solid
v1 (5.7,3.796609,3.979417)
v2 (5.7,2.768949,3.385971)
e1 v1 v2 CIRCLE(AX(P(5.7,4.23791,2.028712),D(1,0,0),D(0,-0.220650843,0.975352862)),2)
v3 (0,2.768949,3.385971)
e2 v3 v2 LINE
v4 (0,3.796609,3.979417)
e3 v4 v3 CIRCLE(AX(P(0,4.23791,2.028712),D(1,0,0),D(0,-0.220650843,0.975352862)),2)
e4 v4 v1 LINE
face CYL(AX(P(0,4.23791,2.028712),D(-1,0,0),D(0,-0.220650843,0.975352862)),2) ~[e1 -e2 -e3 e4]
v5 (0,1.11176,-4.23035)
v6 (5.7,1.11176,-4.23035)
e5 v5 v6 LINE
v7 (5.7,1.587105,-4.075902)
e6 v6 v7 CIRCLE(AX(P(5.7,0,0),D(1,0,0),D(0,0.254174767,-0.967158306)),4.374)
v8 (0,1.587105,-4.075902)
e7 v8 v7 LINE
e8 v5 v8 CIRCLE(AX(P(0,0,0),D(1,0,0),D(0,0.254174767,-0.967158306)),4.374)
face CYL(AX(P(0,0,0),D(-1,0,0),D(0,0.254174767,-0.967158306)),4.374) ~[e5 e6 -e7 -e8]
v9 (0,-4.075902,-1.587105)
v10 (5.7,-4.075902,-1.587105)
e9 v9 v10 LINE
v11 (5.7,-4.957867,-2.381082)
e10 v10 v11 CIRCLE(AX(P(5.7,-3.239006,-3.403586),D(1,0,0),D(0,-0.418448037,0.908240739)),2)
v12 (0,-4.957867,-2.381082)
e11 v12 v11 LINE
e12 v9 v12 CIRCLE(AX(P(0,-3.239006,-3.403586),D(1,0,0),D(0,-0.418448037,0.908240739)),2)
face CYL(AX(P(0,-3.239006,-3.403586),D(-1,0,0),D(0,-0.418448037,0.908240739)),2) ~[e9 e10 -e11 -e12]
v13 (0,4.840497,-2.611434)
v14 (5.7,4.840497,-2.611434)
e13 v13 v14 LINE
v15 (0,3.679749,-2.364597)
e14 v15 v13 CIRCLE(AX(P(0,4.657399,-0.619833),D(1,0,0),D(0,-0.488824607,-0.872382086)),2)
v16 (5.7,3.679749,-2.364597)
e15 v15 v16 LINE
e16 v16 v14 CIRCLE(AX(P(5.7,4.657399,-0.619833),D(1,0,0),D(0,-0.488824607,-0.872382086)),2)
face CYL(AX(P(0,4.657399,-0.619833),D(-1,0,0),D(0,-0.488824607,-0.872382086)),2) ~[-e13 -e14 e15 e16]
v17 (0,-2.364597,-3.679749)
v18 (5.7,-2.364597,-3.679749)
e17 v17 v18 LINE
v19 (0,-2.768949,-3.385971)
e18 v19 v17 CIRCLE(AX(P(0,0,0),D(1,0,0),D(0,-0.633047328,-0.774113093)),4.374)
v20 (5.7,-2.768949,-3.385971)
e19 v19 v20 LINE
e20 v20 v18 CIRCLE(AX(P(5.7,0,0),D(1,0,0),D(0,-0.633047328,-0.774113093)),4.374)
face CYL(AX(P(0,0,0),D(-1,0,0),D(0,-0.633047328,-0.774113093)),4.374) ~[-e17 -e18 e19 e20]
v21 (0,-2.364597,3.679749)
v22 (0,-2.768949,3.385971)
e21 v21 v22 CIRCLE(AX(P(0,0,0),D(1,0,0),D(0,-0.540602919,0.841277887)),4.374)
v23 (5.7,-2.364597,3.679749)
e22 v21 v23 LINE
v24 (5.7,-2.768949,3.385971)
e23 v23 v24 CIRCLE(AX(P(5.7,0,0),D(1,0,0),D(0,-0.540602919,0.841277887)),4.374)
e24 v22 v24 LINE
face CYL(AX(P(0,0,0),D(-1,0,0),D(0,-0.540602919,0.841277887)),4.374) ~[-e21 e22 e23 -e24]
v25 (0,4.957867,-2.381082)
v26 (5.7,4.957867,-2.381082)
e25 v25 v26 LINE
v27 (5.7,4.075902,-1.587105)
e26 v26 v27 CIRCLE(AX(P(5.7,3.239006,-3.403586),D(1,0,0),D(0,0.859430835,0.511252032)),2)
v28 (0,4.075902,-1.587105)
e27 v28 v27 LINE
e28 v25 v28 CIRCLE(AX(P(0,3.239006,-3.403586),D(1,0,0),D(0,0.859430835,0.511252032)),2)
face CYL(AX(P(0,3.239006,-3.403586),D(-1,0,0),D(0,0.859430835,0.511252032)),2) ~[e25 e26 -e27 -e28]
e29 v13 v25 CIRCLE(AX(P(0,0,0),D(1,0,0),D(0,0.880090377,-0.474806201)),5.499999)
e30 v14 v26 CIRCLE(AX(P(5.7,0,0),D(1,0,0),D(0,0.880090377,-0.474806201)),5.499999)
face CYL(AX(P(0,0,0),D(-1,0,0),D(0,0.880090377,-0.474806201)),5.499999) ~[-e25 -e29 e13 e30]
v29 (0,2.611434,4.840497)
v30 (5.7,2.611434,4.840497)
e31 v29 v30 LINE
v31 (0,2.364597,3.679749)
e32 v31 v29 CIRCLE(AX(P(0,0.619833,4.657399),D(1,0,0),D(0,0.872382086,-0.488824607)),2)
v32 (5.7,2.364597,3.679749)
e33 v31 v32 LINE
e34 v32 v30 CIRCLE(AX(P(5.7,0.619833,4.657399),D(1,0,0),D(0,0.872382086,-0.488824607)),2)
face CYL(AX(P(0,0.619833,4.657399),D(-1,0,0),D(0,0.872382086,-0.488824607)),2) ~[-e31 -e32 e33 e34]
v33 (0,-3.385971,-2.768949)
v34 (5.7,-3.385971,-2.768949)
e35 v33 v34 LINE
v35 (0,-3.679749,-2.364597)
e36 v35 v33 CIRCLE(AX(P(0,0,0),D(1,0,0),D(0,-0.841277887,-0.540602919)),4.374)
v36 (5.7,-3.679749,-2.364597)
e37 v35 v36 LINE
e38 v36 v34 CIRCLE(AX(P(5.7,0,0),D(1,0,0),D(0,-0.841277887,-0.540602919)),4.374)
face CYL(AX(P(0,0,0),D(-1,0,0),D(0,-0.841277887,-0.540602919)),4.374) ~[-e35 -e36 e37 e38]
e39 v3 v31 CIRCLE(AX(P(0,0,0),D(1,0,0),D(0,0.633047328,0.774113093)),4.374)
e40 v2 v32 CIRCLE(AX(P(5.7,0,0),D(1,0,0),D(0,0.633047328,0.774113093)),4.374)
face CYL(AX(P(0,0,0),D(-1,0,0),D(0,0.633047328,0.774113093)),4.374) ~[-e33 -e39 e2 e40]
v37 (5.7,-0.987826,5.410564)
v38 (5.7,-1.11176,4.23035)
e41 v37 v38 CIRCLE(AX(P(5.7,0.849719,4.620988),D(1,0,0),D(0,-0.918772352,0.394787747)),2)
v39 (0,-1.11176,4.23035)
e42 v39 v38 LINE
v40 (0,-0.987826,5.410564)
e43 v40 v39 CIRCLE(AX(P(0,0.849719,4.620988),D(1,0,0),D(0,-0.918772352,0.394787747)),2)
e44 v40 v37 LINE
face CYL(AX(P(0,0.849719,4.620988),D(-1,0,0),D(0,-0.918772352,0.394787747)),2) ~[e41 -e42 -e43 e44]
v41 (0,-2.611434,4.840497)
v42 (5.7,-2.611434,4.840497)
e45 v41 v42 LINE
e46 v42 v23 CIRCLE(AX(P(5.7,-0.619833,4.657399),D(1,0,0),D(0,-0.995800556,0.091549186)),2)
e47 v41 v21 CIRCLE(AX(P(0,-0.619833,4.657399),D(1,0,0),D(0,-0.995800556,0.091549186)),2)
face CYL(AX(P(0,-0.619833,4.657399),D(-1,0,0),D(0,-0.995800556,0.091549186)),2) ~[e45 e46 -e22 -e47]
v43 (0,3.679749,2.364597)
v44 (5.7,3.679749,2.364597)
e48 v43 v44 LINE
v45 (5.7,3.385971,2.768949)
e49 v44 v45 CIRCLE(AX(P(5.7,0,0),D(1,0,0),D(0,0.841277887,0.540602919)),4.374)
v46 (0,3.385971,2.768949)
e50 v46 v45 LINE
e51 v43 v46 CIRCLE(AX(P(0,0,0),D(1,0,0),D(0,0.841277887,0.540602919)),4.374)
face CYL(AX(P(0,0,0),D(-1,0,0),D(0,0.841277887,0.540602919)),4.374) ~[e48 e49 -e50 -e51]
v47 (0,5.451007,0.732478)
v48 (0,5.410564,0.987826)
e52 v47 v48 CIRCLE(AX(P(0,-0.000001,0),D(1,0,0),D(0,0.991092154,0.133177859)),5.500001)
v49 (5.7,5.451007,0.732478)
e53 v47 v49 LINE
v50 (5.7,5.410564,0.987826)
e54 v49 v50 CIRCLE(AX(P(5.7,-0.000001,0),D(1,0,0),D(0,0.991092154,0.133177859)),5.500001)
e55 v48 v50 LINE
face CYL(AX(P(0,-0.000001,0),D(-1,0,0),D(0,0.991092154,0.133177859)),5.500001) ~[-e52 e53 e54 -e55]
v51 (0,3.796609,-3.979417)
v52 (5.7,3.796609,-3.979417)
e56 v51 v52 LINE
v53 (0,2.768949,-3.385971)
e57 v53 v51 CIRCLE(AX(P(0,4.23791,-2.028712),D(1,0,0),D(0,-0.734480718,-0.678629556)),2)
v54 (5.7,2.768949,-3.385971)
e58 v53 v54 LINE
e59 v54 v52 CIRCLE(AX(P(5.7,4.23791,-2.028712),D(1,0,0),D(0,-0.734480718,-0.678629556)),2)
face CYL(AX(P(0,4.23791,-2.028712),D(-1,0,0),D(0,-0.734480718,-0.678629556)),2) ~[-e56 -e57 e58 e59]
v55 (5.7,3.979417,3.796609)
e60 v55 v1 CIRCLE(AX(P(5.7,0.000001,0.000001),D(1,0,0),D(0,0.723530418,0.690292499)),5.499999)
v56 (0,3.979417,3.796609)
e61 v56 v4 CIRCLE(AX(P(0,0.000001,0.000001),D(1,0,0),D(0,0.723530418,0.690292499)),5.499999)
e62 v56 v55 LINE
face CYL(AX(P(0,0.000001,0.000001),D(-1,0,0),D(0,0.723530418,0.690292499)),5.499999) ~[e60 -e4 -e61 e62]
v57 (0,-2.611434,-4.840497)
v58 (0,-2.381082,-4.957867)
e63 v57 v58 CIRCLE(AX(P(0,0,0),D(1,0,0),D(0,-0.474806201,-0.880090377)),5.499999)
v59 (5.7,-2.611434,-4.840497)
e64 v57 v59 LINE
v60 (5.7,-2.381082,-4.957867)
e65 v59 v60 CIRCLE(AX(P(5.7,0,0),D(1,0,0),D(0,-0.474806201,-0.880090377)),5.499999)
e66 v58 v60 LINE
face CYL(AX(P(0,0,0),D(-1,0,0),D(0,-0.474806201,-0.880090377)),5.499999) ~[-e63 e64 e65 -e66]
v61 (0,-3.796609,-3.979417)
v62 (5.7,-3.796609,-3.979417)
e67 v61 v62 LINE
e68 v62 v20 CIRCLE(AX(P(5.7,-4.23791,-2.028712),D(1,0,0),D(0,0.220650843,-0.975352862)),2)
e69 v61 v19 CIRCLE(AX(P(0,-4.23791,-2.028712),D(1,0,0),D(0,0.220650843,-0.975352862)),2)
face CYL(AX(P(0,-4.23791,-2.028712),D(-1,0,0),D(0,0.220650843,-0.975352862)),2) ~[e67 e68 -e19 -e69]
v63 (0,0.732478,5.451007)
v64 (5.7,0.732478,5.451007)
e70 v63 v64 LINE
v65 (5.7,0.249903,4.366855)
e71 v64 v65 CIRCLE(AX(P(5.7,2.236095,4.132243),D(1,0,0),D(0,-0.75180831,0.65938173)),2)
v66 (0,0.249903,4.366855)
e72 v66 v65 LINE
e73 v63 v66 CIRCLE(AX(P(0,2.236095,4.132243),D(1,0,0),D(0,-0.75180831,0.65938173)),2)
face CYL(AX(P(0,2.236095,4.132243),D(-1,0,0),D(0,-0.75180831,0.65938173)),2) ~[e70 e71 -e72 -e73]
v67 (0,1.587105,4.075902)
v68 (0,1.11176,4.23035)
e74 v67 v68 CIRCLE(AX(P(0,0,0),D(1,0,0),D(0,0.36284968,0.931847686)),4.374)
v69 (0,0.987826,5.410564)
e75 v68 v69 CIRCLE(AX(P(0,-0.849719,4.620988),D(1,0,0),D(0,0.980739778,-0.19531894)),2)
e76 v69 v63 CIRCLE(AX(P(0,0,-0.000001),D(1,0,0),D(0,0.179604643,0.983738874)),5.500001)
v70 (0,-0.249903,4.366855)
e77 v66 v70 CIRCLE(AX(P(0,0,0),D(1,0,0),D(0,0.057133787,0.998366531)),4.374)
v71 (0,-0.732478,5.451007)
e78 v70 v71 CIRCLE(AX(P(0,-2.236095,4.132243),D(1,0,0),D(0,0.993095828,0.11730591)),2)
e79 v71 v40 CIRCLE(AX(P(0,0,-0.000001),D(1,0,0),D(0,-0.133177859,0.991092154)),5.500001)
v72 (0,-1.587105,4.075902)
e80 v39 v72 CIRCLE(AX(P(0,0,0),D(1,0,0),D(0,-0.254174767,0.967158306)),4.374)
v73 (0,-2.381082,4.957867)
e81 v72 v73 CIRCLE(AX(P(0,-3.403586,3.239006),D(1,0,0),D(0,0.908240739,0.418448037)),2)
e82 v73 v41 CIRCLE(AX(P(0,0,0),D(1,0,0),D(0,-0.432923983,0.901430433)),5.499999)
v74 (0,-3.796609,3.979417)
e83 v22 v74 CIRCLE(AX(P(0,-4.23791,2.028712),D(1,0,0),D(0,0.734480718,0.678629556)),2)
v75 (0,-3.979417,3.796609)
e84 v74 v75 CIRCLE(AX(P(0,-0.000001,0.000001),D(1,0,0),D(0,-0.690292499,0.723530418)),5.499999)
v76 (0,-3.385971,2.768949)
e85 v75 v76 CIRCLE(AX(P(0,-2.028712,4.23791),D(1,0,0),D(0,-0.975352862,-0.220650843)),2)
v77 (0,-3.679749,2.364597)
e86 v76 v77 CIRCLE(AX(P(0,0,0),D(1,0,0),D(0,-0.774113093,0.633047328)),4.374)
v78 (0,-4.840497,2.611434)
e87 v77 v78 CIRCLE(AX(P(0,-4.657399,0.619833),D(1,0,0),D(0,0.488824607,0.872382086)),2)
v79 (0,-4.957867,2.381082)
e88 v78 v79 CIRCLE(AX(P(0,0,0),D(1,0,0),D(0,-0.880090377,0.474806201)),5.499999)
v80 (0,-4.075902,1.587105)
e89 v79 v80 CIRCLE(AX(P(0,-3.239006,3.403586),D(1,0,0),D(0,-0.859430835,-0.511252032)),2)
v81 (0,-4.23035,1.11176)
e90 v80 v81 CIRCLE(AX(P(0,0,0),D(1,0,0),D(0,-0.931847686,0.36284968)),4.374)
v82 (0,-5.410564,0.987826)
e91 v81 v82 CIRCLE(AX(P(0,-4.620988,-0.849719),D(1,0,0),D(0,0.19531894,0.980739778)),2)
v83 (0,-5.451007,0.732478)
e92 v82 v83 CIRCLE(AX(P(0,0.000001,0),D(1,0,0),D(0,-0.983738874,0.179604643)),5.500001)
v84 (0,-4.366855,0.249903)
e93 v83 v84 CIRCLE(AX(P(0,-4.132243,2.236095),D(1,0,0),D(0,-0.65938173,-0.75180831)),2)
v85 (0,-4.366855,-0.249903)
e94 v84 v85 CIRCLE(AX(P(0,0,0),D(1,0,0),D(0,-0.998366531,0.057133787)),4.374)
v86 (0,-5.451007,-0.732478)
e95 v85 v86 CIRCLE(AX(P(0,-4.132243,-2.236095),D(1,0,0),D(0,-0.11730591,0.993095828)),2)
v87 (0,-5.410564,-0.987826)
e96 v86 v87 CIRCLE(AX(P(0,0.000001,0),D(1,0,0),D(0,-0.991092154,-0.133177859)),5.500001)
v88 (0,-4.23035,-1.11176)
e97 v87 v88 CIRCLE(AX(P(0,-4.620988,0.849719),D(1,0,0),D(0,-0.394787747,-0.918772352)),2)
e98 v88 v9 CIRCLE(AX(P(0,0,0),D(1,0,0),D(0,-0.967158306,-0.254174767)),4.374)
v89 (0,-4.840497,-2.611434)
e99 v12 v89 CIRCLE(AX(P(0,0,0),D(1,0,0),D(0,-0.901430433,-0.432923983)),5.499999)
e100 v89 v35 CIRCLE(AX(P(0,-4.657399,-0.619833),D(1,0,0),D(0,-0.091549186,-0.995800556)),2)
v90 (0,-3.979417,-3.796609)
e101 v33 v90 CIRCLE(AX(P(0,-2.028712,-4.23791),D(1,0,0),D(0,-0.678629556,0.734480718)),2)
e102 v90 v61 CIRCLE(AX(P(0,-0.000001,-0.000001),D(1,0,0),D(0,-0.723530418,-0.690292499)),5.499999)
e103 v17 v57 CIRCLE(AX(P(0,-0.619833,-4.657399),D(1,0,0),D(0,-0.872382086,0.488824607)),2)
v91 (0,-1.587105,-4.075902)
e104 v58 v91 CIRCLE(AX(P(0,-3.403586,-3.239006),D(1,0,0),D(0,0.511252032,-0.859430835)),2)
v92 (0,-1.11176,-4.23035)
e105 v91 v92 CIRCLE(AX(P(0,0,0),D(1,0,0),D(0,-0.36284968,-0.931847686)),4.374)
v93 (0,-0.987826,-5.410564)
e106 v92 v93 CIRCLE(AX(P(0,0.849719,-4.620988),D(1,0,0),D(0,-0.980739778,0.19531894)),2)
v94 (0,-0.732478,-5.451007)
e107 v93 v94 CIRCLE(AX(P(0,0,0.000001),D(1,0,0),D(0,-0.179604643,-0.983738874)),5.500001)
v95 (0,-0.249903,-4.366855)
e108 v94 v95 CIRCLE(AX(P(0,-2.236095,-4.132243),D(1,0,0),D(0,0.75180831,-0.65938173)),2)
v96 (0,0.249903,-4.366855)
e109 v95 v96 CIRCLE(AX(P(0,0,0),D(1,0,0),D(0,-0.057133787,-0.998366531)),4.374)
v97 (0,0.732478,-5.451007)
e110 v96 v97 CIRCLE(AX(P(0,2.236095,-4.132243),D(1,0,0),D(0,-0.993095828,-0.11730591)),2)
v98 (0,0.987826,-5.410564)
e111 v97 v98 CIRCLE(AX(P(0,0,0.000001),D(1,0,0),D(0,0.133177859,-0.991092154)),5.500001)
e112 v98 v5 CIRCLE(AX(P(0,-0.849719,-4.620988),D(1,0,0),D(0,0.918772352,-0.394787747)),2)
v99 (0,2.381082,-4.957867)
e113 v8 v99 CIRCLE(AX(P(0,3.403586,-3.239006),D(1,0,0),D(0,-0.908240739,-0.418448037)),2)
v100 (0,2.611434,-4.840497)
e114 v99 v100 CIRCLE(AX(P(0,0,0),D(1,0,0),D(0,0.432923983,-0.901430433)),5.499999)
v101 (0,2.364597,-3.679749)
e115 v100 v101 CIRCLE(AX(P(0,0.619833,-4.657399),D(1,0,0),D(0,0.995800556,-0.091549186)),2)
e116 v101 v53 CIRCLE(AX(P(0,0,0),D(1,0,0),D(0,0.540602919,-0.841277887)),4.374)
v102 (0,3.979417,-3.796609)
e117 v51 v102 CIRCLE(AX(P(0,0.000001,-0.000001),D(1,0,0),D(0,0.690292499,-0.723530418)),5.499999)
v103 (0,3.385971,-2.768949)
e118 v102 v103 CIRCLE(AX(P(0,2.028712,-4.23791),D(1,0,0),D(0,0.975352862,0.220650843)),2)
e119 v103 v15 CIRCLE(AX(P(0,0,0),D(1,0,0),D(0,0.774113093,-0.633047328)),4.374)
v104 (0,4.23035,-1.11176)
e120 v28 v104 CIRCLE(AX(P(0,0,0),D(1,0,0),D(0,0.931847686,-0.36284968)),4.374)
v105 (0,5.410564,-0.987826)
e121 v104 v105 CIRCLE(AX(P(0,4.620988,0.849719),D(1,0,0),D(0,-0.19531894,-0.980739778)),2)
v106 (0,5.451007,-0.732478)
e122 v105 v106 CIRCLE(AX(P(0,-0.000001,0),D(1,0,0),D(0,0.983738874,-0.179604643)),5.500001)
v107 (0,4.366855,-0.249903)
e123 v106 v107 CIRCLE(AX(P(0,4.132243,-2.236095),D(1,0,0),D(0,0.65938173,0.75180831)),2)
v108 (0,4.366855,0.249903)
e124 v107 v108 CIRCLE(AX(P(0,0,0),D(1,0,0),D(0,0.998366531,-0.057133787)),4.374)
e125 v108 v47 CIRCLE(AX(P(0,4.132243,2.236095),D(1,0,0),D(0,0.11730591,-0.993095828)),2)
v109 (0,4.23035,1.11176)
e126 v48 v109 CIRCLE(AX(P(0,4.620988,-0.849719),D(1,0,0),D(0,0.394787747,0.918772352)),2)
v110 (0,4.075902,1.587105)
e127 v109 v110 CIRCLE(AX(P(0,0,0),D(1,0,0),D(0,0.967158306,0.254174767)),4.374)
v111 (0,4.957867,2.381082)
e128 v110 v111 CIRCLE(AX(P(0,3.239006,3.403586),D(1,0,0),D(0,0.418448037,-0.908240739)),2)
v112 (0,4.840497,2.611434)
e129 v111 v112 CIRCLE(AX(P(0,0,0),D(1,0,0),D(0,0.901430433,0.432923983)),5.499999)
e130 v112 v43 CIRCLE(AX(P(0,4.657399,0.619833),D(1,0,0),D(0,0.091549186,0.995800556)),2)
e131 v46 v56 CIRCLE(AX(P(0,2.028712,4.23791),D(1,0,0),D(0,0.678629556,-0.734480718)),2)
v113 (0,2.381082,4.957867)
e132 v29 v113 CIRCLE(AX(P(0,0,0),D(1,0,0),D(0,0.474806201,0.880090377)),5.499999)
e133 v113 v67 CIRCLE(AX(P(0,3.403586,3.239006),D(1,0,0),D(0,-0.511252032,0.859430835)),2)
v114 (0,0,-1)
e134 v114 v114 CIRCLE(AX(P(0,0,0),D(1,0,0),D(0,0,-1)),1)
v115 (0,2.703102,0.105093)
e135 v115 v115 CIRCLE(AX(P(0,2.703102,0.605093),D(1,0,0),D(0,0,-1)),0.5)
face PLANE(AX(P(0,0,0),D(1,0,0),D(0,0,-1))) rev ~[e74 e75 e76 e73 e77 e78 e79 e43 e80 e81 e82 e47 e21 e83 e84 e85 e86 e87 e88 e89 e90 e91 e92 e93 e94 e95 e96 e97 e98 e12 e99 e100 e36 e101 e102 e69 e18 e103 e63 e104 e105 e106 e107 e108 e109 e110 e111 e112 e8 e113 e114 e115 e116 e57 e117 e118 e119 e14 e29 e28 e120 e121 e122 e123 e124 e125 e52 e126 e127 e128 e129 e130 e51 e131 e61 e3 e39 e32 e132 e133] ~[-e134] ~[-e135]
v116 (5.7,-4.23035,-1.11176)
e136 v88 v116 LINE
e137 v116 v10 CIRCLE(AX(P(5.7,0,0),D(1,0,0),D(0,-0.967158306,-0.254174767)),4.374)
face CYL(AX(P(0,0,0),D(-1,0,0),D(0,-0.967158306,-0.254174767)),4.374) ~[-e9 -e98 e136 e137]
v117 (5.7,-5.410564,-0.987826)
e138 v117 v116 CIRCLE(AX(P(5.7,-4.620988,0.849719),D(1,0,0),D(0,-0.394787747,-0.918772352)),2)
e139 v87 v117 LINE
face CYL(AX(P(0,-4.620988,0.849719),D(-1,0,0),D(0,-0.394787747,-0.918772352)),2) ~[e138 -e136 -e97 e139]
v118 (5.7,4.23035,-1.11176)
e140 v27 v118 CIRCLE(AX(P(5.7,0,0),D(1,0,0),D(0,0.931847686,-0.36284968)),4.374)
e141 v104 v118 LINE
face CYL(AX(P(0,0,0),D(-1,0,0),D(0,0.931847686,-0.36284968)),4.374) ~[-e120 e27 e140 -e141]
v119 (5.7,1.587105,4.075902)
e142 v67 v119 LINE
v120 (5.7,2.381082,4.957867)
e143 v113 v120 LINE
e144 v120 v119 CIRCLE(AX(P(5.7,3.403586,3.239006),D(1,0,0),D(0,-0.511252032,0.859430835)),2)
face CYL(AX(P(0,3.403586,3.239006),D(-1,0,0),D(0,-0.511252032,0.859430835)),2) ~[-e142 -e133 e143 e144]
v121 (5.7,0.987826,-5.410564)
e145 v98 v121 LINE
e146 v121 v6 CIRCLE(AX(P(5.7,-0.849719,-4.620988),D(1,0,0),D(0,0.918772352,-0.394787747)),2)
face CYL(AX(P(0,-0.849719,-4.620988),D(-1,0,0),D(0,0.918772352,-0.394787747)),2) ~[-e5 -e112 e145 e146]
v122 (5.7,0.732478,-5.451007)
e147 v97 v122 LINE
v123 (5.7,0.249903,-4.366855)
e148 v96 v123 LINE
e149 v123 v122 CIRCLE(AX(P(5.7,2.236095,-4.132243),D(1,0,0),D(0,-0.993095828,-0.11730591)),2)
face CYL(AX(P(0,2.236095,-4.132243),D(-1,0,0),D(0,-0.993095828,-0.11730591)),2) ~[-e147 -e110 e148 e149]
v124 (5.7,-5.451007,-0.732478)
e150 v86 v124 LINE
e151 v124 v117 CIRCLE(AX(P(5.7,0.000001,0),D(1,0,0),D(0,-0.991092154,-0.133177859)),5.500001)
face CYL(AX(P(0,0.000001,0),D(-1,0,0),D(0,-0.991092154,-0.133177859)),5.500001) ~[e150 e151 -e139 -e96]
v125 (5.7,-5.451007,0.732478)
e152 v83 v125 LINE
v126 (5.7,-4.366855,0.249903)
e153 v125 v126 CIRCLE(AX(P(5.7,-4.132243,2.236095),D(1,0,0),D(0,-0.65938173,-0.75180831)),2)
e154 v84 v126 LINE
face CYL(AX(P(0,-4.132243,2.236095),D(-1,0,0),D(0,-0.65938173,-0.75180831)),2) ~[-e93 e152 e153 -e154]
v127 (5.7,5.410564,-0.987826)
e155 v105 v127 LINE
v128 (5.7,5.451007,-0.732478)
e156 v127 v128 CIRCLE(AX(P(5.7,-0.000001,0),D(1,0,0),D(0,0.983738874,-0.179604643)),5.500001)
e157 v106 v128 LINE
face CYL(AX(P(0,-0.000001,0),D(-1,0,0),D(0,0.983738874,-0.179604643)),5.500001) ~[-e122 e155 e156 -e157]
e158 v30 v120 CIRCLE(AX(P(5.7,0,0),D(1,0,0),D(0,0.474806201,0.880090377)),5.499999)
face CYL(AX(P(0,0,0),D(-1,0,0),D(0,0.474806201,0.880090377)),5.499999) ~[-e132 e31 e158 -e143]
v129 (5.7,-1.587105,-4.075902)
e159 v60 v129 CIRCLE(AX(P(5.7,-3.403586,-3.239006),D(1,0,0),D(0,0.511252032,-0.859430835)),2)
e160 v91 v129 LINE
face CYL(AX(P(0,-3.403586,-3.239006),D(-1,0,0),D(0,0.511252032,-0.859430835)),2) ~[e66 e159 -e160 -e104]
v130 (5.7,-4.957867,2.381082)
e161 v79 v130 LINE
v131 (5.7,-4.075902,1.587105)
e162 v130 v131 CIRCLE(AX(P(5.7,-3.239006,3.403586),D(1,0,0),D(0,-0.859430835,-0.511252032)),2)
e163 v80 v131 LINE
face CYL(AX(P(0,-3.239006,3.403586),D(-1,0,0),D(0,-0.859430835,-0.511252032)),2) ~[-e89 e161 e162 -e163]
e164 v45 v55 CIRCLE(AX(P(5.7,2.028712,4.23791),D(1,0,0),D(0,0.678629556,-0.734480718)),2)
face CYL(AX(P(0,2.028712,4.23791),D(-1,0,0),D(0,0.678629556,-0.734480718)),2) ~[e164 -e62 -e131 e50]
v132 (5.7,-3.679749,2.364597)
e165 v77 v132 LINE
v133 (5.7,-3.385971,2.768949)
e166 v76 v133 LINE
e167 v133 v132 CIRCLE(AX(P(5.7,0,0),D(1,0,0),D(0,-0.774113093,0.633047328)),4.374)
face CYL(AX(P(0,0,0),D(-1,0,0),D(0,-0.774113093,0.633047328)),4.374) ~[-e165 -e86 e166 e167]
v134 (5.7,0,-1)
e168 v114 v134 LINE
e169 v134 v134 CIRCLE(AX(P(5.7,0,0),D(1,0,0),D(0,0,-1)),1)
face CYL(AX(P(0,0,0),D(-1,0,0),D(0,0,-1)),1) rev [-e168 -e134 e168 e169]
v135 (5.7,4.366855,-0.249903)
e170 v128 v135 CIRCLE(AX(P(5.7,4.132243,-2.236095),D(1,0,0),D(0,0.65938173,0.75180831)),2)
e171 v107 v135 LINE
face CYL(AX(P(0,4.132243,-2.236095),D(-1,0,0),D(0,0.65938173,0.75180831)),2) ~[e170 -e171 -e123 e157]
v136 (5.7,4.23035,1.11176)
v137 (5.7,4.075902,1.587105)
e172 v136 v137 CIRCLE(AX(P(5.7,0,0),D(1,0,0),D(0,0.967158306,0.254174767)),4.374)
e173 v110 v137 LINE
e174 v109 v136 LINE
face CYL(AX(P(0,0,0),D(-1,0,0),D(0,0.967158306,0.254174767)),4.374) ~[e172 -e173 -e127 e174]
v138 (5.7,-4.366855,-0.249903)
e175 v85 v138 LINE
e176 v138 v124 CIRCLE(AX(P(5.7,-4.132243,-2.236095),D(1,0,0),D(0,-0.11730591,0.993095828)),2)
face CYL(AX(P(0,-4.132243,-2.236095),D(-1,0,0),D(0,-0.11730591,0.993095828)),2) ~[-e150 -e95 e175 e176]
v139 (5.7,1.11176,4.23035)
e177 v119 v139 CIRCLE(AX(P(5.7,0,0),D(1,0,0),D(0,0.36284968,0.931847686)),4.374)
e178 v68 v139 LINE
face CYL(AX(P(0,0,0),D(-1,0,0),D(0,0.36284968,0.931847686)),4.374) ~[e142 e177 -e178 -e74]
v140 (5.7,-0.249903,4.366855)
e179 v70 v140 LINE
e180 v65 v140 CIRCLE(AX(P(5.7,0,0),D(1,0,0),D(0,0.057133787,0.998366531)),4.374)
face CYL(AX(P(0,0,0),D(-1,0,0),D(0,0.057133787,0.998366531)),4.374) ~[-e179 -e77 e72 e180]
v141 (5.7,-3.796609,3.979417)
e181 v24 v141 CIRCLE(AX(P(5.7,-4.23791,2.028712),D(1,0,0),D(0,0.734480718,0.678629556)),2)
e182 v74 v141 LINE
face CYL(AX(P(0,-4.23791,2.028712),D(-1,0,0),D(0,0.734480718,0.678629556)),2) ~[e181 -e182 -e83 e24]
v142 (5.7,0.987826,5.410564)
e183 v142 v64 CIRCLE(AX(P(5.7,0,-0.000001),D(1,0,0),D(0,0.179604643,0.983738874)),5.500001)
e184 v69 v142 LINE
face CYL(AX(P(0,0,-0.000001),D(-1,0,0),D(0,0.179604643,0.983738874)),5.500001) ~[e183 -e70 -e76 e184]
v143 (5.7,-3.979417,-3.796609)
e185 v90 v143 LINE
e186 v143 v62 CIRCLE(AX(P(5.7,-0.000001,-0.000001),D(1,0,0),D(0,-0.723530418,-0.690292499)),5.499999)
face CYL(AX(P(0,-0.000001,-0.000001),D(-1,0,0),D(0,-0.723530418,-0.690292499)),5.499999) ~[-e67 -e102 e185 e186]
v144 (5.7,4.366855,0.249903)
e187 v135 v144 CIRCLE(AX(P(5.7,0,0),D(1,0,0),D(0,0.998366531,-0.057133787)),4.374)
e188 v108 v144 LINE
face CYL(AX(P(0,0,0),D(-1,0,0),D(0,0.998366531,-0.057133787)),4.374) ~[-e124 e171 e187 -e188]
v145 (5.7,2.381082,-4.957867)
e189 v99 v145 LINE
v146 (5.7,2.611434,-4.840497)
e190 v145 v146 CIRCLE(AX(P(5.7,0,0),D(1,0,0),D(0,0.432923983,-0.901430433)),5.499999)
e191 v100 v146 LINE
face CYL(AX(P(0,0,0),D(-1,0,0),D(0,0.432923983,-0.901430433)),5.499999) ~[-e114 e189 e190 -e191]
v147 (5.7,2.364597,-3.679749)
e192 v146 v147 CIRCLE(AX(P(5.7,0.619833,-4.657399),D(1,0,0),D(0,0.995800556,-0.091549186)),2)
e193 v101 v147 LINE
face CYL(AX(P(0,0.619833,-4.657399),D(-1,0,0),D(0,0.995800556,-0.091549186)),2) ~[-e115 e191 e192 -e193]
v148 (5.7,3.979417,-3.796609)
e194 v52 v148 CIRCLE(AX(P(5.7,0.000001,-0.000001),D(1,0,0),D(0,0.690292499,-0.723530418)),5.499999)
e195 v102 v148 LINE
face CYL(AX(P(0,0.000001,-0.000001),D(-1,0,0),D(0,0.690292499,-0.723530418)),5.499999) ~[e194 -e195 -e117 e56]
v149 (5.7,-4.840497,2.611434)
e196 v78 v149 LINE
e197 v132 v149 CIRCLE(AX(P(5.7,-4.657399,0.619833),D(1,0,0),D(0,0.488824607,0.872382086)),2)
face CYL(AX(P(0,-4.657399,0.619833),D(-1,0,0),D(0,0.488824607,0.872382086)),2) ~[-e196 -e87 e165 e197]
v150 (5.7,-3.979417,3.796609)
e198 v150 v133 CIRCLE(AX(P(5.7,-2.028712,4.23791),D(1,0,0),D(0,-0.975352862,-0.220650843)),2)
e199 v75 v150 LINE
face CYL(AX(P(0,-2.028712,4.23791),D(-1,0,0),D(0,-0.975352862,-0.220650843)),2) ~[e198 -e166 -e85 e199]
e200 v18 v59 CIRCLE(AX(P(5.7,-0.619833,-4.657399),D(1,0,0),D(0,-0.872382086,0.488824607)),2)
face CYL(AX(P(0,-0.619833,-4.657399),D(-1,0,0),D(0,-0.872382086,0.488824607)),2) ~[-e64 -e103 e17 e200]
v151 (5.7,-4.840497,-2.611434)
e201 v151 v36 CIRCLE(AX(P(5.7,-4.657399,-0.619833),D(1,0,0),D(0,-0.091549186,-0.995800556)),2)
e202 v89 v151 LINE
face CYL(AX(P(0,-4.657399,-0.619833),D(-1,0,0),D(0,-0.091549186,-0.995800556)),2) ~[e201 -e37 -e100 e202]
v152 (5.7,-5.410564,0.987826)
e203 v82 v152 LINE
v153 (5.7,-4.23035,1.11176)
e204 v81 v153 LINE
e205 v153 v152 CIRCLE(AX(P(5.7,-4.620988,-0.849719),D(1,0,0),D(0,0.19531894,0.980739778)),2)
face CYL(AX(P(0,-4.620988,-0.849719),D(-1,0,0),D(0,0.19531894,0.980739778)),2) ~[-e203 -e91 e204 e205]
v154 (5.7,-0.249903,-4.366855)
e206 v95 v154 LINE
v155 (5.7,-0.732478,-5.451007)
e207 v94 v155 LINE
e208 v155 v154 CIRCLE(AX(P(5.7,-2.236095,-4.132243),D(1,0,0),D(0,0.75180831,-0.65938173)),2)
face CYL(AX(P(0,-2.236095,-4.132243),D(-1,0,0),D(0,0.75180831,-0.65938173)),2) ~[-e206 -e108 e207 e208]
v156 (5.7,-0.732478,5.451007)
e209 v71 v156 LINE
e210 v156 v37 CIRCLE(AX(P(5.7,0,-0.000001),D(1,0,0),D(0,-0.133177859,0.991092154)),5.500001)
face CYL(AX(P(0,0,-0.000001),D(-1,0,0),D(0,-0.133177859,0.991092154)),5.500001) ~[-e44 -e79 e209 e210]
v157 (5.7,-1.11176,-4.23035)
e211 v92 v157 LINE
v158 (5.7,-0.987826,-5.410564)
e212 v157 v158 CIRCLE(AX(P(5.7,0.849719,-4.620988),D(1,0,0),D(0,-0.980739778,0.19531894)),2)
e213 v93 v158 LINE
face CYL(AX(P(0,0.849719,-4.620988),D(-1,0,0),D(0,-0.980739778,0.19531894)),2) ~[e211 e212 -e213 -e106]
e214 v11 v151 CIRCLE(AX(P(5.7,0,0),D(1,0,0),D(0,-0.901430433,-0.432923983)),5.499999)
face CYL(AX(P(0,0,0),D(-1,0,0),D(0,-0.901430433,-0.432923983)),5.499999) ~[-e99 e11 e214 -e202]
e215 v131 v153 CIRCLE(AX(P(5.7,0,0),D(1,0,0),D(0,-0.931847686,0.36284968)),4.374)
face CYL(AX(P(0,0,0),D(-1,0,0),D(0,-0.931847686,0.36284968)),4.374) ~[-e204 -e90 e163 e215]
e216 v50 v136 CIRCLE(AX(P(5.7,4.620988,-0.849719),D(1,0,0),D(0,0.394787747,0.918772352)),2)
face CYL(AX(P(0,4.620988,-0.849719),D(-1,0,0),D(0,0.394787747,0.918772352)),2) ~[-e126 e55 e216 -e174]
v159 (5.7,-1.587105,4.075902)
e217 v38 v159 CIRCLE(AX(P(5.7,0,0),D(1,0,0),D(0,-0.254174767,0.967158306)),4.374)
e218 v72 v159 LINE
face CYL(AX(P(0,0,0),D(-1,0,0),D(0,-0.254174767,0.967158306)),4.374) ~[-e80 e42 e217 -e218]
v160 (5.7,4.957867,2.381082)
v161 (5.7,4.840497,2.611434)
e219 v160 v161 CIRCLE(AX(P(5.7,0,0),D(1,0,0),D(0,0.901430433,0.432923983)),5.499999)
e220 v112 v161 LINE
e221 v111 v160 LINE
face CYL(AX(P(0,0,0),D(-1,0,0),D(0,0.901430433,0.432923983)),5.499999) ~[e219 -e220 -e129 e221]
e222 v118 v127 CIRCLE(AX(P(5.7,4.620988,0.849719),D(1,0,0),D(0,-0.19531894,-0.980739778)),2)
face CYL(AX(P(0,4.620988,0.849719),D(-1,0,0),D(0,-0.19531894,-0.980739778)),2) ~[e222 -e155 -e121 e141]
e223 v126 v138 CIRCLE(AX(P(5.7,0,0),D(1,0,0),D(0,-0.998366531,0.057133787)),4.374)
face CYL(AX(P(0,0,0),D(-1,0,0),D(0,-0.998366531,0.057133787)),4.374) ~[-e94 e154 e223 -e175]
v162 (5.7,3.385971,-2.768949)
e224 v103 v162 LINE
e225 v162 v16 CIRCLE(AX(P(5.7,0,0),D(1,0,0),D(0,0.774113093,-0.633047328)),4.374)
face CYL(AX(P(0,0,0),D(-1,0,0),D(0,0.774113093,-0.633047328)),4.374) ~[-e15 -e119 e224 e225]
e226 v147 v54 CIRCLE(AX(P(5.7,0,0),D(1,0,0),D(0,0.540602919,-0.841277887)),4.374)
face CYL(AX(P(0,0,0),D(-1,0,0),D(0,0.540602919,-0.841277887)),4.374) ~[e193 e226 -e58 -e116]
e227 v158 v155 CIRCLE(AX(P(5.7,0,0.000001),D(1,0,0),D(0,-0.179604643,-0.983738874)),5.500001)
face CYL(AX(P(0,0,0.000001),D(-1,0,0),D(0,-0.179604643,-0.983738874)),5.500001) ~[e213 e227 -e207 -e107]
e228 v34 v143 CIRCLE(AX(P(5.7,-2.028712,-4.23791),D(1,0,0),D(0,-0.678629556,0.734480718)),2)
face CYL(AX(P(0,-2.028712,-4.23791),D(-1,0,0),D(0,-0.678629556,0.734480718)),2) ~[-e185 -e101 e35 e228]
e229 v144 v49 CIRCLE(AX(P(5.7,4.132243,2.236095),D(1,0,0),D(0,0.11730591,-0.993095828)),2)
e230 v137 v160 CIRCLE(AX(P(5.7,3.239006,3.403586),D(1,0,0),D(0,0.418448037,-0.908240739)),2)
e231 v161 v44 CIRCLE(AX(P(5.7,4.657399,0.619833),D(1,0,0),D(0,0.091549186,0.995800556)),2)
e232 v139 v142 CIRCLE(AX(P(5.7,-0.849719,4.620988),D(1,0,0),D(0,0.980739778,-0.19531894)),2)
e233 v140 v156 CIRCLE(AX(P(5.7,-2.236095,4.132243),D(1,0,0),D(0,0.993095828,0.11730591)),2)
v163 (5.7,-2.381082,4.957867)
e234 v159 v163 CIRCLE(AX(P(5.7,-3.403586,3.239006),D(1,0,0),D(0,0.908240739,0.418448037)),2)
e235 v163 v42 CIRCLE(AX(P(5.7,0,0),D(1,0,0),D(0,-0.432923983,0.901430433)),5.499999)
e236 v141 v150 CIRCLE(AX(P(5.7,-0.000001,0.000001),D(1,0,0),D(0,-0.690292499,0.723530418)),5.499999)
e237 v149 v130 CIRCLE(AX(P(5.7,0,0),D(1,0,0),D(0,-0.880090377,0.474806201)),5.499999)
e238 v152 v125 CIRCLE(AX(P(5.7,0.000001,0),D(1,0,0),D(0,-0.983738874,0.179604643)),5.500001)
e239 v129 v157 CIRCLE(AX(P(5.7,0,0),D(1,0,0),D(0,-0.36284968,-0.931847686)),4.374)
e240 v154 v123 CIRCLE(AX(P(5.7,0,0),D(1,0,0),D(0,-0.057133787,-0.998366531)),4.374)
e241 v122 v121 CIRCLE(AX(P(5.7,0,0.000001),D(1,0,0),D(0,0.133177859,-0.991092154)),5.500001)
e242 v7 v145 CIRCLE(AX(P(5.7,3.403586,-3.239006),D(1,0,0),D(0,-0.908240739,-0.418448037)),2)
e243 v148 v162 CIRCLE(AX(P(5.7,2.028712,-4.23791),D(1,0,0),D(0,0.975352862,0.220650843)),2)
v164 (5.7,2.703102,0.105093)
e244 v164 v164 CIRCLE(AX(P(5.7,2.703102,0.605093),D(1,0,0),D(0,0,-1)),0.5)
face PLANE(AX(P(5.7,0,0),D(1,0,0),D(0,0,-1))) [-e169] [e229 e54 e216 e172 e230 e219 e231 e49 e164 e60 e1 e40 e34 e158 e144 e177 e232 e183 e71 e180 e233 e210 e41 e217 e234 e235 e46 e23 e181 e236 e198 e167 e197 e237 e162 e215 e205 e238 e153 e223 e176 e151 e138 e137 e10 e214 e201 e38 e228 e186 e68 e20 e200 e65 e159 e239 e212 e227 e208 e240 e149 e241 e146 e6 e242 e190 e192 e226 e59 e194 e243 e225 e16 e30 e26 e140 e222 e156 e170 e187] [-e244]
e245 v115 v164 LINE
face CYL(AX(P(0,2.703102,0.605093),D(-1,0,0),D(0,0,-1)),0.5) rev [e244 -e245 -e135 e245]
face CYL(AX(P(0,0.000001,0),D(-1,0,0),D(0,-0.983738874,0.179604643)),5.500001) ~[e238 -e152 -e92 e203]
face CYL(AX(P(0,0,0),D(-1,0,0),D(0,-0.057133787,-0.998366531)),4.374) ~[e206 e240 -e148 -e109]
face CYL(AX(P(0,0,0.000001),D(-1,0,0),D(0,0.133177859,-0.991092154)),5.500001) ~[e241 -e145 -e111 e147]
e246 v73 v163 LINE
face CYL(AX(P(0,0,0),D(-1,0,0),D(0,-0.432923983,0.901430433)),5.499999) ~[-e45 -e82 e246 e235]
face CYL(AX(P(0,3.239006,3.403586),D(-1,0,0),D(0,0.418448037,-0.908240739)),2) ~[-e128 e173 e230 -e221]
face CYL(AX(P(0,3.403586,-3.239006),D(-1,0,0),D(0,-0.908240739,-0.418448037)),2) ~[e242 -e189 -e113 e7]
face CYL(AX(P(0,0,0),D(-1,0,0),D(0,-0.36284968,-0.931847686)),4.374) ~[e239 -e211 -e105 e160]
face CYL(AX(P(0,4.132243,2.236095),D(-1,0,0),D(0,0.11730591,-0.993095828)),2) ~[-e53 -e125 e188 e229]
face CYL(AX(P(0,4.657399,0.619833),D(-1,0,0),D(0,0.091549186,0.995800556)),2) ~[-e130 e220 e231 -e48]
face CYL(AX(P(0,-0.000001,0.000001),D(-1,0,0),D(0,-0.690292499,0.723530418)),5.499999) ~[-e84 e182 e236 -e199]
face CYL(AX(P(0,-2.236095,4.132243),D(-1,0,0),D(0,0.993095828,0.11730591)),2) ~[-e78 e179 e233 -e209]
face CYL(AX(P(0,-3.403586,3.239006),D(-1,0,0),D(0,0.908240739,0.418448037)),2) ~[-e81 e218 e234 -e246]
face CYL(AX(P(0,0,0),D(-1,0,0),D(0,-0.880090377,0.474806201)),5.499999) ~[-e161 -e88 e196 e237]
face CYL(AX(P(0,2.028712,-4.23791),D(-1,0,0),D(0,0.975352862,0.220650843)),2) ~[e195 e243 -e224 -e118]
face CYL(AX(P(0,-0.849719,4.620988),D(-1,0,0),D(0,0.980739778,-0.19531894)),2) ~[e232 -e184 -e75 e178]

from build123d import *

# Parameters (mm, degrees)
SKETCH_7_R      = 1
SKETCH_7_R_2    = 0.5
EXTRUDE_3_DEPTH = 5.7


with BuildPart() as part:
    # 草图7 → 凸台-拉伸3 (new body)
    with BuildSketch(Plane(origin=(0, 0, 0), x_dir=(0, 0, -1), z_dir=(1, 0, 0))):
        with BuildLine():
            ThreePointArc((-5.451006848, 0.732478218), (-4.945547363, 0.408928549), (-4.366855207, 0.249903181))
            ThreePointArc((-4.366855207, 0.249903181), (-4.374, 0), (-4.366855207, -0.249903181))
            ThreePointArc((-4.366855207, -0.249903181), (-4.945547363, -0.408928549), (-5.451006848, -0.732478218))
            ThreePointArc((-5.451006848, -0.732478218), (-5.432285873, -0.860389558), (-5.410563801, -0.987825571))
            ThreePointArc((-5.410563801, -0.987825571), (-4.829860918, -1.139344021), (-4.23035043, -1.111760422))
            ThreePointArc((-4.23035043, -1.111760422), (-4.159921202, -1.351640333), (-4.075901771, -1.58710452))
            ThreePointArc((-4.075901771, -1.58710452), (-4.577129176, -1.917172343), (-4.957867366, -2.381081934))
            ThreePointArc((-4.957867366, -2.381081934), (-4.900535883, -2.496947749), (-4.840497071, -2.61143411))
            ThreePointArc((-4.840497071, -2.61143411), (-4.241394034, -2.576089659), (-3.679749479, -2.364597169))
            ThreePointArc((-3.679749479, -2.364597169), (-3.538640333, -2.570972694), (-3.38597067, -2.76894901))
            ThreePointArc((-3.38597067, -2.76894901), (-3.760669693, -3.23774995), (-3.979417283, -3.796608762))
            ThreePointArc((-3.979417283, -3.796608762), (-3.889087297, -3.889087297), (-3.796608762, -3.979417283))
            ThreePointArc((-3.796608762, -3.979417283), (-3.23774995, -3.760669693), (-2.76894901, -3.38597067))
            ThreePointArc((-2.76894901, -3.38597067), (-2.570972694, -3.538640333), (-2.364597169, -3.679749479))
            ThreePointArc((-2.364597169, -3.679749479), (-2.576089659, -4.241394034), (-2.61143411, -4.840497071))
            ThreePointArc((-2.61143411, -4.840497071), (-2.496947749, -4.900535883), (-2.381081934, -4.957867366))
            ThreePointArc((-2.381081934, -4.957867366), (-1.917172343, -4.577129176), (-1.58710452, -4.075901771))
            ThreePointArc((-1.58710452, -4.075901771), (-1.351640333, -4.159921202), (-1.111760422, -4.23035043))
            ThreePointArc((-1.111760422, -4.23035043), (-1.139344021, -4.829860918), (-0.987825571, -5.410563801))
            ThreePointArc((-0.987825571, -5.410563801), (-0.860389558, -5.432285873), (-0.732478218, -5.451006848))
            ThreePointArc((-0.732478218, -5.451006848), (-0.408928549, -4.945547363), (-0.249903181, -4.366855207))
            ThreePointArc((-0.249903181, -4.366855207), (0, -4.374), (0.249903181, -4.366855207))
            ThreePointArc((0.249903181, -4.366855207), (0.408928549, -4.945547363), (0.732478218, -5.451006848))
            ThreePointArc((0.732478218, -5.451006848), (0.860389558, -5.432285873), (0.987825571, -5.410563801))
            ThreePointArc((0.987825571, -5.410563801), (1.139344021, -4.829860918), (1.111760422, -4.23035043))
            ThreePointArc((1.111760422, -4.23035043), (1.351640333, -4.159921202), (1.58710452, -4.075901771))
            ThreePointArc((1.58710452, -4.075901771), (1.917172343, -4.577129176), (2.381081934, -4.957867366))
            ThreePointArc((2.381081934, -4.957867366), (2.496947749, -4.900535883), (2.61143411, -4.840497071))
            ThreePointArc((2.61143411, -4.840497071), (2.576089659, -4.241394034), (2.364597169, -3.679749479))
            ThreePointArc((2.364597169, -3.679749479), (2.570972694, -3.538640333), (2.76894901, -3.38597067))
            ThreePointArc((2.76894901, -3.38597067), (3.23774995, -3.760669693), (3.796608762, -3.979417283))
            ThreePointArc((3.796608762, -3.979417283), (3.889087297, -3.889087297), (3.979417283, -3.796608762))
            ThreePointArc((3.979417283, -3.796608762), (3.760669693, -3.23774995), (3.38597067, -2.76894901))
            ThreePointArc((3.38597067, -2.76894901), (3.538640333, -2.570972694), (3.679749479, -2.364597169))
            ThreePointArc((3.679749479, -2.364597169), (4.241394034, -2.576089659), (4.840497071, -2.61143411))
            ThreePointArc((4.840497071, -2.61143411), (4.900535883, -2.496947749), (4.957867366, -2.381081934))
            ThreePointArc((4.957867366, -2.381081934), (4.577129176, -1.917172343), (4.075901771, -1.58710452))
            ThreePointArc((4.075901771, -1.58710452), (4.159921202, -1.351640333), (4.23035043, -1.111760422))
            ThreePointArc((4.23035043, -1.111760422), (4.829860918, -1.139344021), (5.410563801, -0.987825571))
            ThreePointArc((5.410563801, -0.987825571), (5.432285873, -0.860389558), (5.451006848, -0.732478218))
            ThreePointArc((5.451006848, -0.732478218), (4.945547363, -0.408928549), (4.366855207, -0.249903181))
            ThreePointArc((4.366855207, -0.249903181), (4.374, 0), (4.366855207, 0.249903181))
            ThreePointArc((4.366855207, 0.249903181), (4.945547363, 0.408928549), (5.451006848, 0.732478218))
            ThreePointArc((5.451006848, 0.732478218), (5.432285873, 0.860389558), (5.410563801, 0.987825571))
            ThreePointArc((5.410563801, 0.987825571), (4.829860918, 1.139344021), (4.23035043, 1.111760422))
            ThreePointArc((4.23035043, 1.111760422), (4.159921202, 1.351640333), (4.075901771, 1.58710452))
            ThreePointArc((4.075901771, 1.58710452), (4.577129176, 1.917172343), (4.957867366, 2.381081934))
            ThreePointArc((4.957867366, 2.381081934), (4.900535883, 2.496947749), (4.840497071, 2.61143411))
            ThreePointArc((4.840497071, 2.61143411), (4.241394034, 2.576089659), (3.679749479, 2.364597169))
            ThreePointArc((3.679749479, 2.364597169), (3.538640333, 2.570972694), (3.38597067, 2.76894901))
            ThreePointArc((3.38597067, 2.76894901), (3.760669693, 3.23774995), (3.979417283, 3.796608762))
            ThreePointArc((3.979417283, 3.796608762), (3.889087297, 3.889087297), (3.796608762, 3.979417283))
            ThreePointArc((3.796608762, 3.979417283), (3.23774995, 3.760669693), (2.76894901, 3.38597067))
            ThreePointArc((2.76894901, 3.38597067), (2.570972694, 3.538640333), (2.364597169, 3.679749479))
            ThreePointArc((2.364597169, 3.679749479), (2.576089659, 4.241394034), (2.61143411, 4.840497071))
            ThreePointArc((2.61143411, 4.840497071), (2.496947749, 4.900535883), (2.381081934, 4.957867366))
            ThreePointArc((2.381081934, 4.957867366), (1.917172343, 4.577129176), (1.58710452, 4.075901771))
            ThreePointArc((1.58710452, 4.075901771), (1.351640333, 4.159921202), (1.111760422, 4.23035043))
            ThreePointArc((1.111760422, 4.23035043), (1.139344021, 4.829860918), (0.987825571, 5.410563801))
            ThreePointArc((0.987825571, 5.410563801), (0.860389558, 5.432285873), (0.732478218, 5.451006848))
            ThreePointArc((0.732478218, 5.451006848), (0.408928549, 4.945547363), (0.249903181, 4.366855207))
            ThreePointArc((0.249903181, 4.366855207), (0, 4.374), (-0.249903181, 4.366855207))
            ThreePointArc((-0.249903181, 4.366855207), (-0.408928549, 4.945547363), (-0.732478218, 5.451006848))
            ThreePointArc((-0.732478218, 5.451006848), (-0.860389558, 5.432285873), (-0.987825571, 5.410563801))
            ThreePointArc((-0.987825571, 5.410563801), (-1.139344021, 4.829860918), (-1.111760422, 4.23035043))
            ThreePointArc((-1.111760422, 4.23035043), (-1.351640333, 4.159921202), (-1.58710452, 4.075901771))
            ThreePointArc((-1.58710452, 4.075901771), (-1.917172343, 4.577129176), (-2.381081934, 4.957867366))
            ThreePointArc((-2.381081934, 4.957867366), (-2.496947749, 4.900535883), (-2.61143411, 4.840497071))
            ThreePointArc((-2.61143411, 4.840497071), (-2.576089659, 4.241394034), (-2.364597169, 3.679749479))
            ThreePointArc((-2.364597169, 3.679749479), (-2.570972694, 3.538640333), (-2.76894901, 3.38597067))
            ThreePointArc((-2.76894901, 3.38597067), (-3.23774995, 3.760669693), (-3.796608762, 3.979417283))
            ThreePointArc((-3.796608762, 3.979417283), (-3.889087297, 3.889087297), (-3.979417283, 3.796608762))
            ThreePointArc((-3.979417283, 3.796608762), (-3.760669693, 3.23774995), (-3.38597067, 2.76894901))
            ThreePointArc((-3.38597067, 2.76894901), (-3.538640333, 2.570972694), (-3.679749479, 2.364597169))
            ThreePointArc((-3.679749479, 2.364597169), (-4.241394034, 2.576089659), (-4.840497071, 2.61143411))
            ThreePointArc((-4.840497071, 2.61143411), (-4.900535883, 2.496947749), (-4.957867366, 2.381081934))
            ThreePointArc((-4.957867366, 2.381081934), (-4.577129176, 1.917172343), (-4.075901771, 1.58710452))
            ThreePointArc((-4.075901771, 1.58710452), (-4.159921202, 1.351640333), (-4.23035043, 1.111760422))
            ThreePointArc((-4.23035043, 1.111760422), (-4.829860918, 1.139344021), (-5.410563801, 0.987825571))
            ThreePointArc((-5.410563801, 0.987825571), (-5.432285873, 0.860389558), (-5.451006848, 0.732478218))
        make_face()
        Circle(SKETCH_7_R, mode=Mode.SUBTRACT)
        with Locations((-0.605093134, 2.703102347)):
            Circle(SKETCH_7_R_2, mode=Mode.SUBTRACT)
    extrude(amount=EXTRUDE_3_DEPTH)


solid = part.part
